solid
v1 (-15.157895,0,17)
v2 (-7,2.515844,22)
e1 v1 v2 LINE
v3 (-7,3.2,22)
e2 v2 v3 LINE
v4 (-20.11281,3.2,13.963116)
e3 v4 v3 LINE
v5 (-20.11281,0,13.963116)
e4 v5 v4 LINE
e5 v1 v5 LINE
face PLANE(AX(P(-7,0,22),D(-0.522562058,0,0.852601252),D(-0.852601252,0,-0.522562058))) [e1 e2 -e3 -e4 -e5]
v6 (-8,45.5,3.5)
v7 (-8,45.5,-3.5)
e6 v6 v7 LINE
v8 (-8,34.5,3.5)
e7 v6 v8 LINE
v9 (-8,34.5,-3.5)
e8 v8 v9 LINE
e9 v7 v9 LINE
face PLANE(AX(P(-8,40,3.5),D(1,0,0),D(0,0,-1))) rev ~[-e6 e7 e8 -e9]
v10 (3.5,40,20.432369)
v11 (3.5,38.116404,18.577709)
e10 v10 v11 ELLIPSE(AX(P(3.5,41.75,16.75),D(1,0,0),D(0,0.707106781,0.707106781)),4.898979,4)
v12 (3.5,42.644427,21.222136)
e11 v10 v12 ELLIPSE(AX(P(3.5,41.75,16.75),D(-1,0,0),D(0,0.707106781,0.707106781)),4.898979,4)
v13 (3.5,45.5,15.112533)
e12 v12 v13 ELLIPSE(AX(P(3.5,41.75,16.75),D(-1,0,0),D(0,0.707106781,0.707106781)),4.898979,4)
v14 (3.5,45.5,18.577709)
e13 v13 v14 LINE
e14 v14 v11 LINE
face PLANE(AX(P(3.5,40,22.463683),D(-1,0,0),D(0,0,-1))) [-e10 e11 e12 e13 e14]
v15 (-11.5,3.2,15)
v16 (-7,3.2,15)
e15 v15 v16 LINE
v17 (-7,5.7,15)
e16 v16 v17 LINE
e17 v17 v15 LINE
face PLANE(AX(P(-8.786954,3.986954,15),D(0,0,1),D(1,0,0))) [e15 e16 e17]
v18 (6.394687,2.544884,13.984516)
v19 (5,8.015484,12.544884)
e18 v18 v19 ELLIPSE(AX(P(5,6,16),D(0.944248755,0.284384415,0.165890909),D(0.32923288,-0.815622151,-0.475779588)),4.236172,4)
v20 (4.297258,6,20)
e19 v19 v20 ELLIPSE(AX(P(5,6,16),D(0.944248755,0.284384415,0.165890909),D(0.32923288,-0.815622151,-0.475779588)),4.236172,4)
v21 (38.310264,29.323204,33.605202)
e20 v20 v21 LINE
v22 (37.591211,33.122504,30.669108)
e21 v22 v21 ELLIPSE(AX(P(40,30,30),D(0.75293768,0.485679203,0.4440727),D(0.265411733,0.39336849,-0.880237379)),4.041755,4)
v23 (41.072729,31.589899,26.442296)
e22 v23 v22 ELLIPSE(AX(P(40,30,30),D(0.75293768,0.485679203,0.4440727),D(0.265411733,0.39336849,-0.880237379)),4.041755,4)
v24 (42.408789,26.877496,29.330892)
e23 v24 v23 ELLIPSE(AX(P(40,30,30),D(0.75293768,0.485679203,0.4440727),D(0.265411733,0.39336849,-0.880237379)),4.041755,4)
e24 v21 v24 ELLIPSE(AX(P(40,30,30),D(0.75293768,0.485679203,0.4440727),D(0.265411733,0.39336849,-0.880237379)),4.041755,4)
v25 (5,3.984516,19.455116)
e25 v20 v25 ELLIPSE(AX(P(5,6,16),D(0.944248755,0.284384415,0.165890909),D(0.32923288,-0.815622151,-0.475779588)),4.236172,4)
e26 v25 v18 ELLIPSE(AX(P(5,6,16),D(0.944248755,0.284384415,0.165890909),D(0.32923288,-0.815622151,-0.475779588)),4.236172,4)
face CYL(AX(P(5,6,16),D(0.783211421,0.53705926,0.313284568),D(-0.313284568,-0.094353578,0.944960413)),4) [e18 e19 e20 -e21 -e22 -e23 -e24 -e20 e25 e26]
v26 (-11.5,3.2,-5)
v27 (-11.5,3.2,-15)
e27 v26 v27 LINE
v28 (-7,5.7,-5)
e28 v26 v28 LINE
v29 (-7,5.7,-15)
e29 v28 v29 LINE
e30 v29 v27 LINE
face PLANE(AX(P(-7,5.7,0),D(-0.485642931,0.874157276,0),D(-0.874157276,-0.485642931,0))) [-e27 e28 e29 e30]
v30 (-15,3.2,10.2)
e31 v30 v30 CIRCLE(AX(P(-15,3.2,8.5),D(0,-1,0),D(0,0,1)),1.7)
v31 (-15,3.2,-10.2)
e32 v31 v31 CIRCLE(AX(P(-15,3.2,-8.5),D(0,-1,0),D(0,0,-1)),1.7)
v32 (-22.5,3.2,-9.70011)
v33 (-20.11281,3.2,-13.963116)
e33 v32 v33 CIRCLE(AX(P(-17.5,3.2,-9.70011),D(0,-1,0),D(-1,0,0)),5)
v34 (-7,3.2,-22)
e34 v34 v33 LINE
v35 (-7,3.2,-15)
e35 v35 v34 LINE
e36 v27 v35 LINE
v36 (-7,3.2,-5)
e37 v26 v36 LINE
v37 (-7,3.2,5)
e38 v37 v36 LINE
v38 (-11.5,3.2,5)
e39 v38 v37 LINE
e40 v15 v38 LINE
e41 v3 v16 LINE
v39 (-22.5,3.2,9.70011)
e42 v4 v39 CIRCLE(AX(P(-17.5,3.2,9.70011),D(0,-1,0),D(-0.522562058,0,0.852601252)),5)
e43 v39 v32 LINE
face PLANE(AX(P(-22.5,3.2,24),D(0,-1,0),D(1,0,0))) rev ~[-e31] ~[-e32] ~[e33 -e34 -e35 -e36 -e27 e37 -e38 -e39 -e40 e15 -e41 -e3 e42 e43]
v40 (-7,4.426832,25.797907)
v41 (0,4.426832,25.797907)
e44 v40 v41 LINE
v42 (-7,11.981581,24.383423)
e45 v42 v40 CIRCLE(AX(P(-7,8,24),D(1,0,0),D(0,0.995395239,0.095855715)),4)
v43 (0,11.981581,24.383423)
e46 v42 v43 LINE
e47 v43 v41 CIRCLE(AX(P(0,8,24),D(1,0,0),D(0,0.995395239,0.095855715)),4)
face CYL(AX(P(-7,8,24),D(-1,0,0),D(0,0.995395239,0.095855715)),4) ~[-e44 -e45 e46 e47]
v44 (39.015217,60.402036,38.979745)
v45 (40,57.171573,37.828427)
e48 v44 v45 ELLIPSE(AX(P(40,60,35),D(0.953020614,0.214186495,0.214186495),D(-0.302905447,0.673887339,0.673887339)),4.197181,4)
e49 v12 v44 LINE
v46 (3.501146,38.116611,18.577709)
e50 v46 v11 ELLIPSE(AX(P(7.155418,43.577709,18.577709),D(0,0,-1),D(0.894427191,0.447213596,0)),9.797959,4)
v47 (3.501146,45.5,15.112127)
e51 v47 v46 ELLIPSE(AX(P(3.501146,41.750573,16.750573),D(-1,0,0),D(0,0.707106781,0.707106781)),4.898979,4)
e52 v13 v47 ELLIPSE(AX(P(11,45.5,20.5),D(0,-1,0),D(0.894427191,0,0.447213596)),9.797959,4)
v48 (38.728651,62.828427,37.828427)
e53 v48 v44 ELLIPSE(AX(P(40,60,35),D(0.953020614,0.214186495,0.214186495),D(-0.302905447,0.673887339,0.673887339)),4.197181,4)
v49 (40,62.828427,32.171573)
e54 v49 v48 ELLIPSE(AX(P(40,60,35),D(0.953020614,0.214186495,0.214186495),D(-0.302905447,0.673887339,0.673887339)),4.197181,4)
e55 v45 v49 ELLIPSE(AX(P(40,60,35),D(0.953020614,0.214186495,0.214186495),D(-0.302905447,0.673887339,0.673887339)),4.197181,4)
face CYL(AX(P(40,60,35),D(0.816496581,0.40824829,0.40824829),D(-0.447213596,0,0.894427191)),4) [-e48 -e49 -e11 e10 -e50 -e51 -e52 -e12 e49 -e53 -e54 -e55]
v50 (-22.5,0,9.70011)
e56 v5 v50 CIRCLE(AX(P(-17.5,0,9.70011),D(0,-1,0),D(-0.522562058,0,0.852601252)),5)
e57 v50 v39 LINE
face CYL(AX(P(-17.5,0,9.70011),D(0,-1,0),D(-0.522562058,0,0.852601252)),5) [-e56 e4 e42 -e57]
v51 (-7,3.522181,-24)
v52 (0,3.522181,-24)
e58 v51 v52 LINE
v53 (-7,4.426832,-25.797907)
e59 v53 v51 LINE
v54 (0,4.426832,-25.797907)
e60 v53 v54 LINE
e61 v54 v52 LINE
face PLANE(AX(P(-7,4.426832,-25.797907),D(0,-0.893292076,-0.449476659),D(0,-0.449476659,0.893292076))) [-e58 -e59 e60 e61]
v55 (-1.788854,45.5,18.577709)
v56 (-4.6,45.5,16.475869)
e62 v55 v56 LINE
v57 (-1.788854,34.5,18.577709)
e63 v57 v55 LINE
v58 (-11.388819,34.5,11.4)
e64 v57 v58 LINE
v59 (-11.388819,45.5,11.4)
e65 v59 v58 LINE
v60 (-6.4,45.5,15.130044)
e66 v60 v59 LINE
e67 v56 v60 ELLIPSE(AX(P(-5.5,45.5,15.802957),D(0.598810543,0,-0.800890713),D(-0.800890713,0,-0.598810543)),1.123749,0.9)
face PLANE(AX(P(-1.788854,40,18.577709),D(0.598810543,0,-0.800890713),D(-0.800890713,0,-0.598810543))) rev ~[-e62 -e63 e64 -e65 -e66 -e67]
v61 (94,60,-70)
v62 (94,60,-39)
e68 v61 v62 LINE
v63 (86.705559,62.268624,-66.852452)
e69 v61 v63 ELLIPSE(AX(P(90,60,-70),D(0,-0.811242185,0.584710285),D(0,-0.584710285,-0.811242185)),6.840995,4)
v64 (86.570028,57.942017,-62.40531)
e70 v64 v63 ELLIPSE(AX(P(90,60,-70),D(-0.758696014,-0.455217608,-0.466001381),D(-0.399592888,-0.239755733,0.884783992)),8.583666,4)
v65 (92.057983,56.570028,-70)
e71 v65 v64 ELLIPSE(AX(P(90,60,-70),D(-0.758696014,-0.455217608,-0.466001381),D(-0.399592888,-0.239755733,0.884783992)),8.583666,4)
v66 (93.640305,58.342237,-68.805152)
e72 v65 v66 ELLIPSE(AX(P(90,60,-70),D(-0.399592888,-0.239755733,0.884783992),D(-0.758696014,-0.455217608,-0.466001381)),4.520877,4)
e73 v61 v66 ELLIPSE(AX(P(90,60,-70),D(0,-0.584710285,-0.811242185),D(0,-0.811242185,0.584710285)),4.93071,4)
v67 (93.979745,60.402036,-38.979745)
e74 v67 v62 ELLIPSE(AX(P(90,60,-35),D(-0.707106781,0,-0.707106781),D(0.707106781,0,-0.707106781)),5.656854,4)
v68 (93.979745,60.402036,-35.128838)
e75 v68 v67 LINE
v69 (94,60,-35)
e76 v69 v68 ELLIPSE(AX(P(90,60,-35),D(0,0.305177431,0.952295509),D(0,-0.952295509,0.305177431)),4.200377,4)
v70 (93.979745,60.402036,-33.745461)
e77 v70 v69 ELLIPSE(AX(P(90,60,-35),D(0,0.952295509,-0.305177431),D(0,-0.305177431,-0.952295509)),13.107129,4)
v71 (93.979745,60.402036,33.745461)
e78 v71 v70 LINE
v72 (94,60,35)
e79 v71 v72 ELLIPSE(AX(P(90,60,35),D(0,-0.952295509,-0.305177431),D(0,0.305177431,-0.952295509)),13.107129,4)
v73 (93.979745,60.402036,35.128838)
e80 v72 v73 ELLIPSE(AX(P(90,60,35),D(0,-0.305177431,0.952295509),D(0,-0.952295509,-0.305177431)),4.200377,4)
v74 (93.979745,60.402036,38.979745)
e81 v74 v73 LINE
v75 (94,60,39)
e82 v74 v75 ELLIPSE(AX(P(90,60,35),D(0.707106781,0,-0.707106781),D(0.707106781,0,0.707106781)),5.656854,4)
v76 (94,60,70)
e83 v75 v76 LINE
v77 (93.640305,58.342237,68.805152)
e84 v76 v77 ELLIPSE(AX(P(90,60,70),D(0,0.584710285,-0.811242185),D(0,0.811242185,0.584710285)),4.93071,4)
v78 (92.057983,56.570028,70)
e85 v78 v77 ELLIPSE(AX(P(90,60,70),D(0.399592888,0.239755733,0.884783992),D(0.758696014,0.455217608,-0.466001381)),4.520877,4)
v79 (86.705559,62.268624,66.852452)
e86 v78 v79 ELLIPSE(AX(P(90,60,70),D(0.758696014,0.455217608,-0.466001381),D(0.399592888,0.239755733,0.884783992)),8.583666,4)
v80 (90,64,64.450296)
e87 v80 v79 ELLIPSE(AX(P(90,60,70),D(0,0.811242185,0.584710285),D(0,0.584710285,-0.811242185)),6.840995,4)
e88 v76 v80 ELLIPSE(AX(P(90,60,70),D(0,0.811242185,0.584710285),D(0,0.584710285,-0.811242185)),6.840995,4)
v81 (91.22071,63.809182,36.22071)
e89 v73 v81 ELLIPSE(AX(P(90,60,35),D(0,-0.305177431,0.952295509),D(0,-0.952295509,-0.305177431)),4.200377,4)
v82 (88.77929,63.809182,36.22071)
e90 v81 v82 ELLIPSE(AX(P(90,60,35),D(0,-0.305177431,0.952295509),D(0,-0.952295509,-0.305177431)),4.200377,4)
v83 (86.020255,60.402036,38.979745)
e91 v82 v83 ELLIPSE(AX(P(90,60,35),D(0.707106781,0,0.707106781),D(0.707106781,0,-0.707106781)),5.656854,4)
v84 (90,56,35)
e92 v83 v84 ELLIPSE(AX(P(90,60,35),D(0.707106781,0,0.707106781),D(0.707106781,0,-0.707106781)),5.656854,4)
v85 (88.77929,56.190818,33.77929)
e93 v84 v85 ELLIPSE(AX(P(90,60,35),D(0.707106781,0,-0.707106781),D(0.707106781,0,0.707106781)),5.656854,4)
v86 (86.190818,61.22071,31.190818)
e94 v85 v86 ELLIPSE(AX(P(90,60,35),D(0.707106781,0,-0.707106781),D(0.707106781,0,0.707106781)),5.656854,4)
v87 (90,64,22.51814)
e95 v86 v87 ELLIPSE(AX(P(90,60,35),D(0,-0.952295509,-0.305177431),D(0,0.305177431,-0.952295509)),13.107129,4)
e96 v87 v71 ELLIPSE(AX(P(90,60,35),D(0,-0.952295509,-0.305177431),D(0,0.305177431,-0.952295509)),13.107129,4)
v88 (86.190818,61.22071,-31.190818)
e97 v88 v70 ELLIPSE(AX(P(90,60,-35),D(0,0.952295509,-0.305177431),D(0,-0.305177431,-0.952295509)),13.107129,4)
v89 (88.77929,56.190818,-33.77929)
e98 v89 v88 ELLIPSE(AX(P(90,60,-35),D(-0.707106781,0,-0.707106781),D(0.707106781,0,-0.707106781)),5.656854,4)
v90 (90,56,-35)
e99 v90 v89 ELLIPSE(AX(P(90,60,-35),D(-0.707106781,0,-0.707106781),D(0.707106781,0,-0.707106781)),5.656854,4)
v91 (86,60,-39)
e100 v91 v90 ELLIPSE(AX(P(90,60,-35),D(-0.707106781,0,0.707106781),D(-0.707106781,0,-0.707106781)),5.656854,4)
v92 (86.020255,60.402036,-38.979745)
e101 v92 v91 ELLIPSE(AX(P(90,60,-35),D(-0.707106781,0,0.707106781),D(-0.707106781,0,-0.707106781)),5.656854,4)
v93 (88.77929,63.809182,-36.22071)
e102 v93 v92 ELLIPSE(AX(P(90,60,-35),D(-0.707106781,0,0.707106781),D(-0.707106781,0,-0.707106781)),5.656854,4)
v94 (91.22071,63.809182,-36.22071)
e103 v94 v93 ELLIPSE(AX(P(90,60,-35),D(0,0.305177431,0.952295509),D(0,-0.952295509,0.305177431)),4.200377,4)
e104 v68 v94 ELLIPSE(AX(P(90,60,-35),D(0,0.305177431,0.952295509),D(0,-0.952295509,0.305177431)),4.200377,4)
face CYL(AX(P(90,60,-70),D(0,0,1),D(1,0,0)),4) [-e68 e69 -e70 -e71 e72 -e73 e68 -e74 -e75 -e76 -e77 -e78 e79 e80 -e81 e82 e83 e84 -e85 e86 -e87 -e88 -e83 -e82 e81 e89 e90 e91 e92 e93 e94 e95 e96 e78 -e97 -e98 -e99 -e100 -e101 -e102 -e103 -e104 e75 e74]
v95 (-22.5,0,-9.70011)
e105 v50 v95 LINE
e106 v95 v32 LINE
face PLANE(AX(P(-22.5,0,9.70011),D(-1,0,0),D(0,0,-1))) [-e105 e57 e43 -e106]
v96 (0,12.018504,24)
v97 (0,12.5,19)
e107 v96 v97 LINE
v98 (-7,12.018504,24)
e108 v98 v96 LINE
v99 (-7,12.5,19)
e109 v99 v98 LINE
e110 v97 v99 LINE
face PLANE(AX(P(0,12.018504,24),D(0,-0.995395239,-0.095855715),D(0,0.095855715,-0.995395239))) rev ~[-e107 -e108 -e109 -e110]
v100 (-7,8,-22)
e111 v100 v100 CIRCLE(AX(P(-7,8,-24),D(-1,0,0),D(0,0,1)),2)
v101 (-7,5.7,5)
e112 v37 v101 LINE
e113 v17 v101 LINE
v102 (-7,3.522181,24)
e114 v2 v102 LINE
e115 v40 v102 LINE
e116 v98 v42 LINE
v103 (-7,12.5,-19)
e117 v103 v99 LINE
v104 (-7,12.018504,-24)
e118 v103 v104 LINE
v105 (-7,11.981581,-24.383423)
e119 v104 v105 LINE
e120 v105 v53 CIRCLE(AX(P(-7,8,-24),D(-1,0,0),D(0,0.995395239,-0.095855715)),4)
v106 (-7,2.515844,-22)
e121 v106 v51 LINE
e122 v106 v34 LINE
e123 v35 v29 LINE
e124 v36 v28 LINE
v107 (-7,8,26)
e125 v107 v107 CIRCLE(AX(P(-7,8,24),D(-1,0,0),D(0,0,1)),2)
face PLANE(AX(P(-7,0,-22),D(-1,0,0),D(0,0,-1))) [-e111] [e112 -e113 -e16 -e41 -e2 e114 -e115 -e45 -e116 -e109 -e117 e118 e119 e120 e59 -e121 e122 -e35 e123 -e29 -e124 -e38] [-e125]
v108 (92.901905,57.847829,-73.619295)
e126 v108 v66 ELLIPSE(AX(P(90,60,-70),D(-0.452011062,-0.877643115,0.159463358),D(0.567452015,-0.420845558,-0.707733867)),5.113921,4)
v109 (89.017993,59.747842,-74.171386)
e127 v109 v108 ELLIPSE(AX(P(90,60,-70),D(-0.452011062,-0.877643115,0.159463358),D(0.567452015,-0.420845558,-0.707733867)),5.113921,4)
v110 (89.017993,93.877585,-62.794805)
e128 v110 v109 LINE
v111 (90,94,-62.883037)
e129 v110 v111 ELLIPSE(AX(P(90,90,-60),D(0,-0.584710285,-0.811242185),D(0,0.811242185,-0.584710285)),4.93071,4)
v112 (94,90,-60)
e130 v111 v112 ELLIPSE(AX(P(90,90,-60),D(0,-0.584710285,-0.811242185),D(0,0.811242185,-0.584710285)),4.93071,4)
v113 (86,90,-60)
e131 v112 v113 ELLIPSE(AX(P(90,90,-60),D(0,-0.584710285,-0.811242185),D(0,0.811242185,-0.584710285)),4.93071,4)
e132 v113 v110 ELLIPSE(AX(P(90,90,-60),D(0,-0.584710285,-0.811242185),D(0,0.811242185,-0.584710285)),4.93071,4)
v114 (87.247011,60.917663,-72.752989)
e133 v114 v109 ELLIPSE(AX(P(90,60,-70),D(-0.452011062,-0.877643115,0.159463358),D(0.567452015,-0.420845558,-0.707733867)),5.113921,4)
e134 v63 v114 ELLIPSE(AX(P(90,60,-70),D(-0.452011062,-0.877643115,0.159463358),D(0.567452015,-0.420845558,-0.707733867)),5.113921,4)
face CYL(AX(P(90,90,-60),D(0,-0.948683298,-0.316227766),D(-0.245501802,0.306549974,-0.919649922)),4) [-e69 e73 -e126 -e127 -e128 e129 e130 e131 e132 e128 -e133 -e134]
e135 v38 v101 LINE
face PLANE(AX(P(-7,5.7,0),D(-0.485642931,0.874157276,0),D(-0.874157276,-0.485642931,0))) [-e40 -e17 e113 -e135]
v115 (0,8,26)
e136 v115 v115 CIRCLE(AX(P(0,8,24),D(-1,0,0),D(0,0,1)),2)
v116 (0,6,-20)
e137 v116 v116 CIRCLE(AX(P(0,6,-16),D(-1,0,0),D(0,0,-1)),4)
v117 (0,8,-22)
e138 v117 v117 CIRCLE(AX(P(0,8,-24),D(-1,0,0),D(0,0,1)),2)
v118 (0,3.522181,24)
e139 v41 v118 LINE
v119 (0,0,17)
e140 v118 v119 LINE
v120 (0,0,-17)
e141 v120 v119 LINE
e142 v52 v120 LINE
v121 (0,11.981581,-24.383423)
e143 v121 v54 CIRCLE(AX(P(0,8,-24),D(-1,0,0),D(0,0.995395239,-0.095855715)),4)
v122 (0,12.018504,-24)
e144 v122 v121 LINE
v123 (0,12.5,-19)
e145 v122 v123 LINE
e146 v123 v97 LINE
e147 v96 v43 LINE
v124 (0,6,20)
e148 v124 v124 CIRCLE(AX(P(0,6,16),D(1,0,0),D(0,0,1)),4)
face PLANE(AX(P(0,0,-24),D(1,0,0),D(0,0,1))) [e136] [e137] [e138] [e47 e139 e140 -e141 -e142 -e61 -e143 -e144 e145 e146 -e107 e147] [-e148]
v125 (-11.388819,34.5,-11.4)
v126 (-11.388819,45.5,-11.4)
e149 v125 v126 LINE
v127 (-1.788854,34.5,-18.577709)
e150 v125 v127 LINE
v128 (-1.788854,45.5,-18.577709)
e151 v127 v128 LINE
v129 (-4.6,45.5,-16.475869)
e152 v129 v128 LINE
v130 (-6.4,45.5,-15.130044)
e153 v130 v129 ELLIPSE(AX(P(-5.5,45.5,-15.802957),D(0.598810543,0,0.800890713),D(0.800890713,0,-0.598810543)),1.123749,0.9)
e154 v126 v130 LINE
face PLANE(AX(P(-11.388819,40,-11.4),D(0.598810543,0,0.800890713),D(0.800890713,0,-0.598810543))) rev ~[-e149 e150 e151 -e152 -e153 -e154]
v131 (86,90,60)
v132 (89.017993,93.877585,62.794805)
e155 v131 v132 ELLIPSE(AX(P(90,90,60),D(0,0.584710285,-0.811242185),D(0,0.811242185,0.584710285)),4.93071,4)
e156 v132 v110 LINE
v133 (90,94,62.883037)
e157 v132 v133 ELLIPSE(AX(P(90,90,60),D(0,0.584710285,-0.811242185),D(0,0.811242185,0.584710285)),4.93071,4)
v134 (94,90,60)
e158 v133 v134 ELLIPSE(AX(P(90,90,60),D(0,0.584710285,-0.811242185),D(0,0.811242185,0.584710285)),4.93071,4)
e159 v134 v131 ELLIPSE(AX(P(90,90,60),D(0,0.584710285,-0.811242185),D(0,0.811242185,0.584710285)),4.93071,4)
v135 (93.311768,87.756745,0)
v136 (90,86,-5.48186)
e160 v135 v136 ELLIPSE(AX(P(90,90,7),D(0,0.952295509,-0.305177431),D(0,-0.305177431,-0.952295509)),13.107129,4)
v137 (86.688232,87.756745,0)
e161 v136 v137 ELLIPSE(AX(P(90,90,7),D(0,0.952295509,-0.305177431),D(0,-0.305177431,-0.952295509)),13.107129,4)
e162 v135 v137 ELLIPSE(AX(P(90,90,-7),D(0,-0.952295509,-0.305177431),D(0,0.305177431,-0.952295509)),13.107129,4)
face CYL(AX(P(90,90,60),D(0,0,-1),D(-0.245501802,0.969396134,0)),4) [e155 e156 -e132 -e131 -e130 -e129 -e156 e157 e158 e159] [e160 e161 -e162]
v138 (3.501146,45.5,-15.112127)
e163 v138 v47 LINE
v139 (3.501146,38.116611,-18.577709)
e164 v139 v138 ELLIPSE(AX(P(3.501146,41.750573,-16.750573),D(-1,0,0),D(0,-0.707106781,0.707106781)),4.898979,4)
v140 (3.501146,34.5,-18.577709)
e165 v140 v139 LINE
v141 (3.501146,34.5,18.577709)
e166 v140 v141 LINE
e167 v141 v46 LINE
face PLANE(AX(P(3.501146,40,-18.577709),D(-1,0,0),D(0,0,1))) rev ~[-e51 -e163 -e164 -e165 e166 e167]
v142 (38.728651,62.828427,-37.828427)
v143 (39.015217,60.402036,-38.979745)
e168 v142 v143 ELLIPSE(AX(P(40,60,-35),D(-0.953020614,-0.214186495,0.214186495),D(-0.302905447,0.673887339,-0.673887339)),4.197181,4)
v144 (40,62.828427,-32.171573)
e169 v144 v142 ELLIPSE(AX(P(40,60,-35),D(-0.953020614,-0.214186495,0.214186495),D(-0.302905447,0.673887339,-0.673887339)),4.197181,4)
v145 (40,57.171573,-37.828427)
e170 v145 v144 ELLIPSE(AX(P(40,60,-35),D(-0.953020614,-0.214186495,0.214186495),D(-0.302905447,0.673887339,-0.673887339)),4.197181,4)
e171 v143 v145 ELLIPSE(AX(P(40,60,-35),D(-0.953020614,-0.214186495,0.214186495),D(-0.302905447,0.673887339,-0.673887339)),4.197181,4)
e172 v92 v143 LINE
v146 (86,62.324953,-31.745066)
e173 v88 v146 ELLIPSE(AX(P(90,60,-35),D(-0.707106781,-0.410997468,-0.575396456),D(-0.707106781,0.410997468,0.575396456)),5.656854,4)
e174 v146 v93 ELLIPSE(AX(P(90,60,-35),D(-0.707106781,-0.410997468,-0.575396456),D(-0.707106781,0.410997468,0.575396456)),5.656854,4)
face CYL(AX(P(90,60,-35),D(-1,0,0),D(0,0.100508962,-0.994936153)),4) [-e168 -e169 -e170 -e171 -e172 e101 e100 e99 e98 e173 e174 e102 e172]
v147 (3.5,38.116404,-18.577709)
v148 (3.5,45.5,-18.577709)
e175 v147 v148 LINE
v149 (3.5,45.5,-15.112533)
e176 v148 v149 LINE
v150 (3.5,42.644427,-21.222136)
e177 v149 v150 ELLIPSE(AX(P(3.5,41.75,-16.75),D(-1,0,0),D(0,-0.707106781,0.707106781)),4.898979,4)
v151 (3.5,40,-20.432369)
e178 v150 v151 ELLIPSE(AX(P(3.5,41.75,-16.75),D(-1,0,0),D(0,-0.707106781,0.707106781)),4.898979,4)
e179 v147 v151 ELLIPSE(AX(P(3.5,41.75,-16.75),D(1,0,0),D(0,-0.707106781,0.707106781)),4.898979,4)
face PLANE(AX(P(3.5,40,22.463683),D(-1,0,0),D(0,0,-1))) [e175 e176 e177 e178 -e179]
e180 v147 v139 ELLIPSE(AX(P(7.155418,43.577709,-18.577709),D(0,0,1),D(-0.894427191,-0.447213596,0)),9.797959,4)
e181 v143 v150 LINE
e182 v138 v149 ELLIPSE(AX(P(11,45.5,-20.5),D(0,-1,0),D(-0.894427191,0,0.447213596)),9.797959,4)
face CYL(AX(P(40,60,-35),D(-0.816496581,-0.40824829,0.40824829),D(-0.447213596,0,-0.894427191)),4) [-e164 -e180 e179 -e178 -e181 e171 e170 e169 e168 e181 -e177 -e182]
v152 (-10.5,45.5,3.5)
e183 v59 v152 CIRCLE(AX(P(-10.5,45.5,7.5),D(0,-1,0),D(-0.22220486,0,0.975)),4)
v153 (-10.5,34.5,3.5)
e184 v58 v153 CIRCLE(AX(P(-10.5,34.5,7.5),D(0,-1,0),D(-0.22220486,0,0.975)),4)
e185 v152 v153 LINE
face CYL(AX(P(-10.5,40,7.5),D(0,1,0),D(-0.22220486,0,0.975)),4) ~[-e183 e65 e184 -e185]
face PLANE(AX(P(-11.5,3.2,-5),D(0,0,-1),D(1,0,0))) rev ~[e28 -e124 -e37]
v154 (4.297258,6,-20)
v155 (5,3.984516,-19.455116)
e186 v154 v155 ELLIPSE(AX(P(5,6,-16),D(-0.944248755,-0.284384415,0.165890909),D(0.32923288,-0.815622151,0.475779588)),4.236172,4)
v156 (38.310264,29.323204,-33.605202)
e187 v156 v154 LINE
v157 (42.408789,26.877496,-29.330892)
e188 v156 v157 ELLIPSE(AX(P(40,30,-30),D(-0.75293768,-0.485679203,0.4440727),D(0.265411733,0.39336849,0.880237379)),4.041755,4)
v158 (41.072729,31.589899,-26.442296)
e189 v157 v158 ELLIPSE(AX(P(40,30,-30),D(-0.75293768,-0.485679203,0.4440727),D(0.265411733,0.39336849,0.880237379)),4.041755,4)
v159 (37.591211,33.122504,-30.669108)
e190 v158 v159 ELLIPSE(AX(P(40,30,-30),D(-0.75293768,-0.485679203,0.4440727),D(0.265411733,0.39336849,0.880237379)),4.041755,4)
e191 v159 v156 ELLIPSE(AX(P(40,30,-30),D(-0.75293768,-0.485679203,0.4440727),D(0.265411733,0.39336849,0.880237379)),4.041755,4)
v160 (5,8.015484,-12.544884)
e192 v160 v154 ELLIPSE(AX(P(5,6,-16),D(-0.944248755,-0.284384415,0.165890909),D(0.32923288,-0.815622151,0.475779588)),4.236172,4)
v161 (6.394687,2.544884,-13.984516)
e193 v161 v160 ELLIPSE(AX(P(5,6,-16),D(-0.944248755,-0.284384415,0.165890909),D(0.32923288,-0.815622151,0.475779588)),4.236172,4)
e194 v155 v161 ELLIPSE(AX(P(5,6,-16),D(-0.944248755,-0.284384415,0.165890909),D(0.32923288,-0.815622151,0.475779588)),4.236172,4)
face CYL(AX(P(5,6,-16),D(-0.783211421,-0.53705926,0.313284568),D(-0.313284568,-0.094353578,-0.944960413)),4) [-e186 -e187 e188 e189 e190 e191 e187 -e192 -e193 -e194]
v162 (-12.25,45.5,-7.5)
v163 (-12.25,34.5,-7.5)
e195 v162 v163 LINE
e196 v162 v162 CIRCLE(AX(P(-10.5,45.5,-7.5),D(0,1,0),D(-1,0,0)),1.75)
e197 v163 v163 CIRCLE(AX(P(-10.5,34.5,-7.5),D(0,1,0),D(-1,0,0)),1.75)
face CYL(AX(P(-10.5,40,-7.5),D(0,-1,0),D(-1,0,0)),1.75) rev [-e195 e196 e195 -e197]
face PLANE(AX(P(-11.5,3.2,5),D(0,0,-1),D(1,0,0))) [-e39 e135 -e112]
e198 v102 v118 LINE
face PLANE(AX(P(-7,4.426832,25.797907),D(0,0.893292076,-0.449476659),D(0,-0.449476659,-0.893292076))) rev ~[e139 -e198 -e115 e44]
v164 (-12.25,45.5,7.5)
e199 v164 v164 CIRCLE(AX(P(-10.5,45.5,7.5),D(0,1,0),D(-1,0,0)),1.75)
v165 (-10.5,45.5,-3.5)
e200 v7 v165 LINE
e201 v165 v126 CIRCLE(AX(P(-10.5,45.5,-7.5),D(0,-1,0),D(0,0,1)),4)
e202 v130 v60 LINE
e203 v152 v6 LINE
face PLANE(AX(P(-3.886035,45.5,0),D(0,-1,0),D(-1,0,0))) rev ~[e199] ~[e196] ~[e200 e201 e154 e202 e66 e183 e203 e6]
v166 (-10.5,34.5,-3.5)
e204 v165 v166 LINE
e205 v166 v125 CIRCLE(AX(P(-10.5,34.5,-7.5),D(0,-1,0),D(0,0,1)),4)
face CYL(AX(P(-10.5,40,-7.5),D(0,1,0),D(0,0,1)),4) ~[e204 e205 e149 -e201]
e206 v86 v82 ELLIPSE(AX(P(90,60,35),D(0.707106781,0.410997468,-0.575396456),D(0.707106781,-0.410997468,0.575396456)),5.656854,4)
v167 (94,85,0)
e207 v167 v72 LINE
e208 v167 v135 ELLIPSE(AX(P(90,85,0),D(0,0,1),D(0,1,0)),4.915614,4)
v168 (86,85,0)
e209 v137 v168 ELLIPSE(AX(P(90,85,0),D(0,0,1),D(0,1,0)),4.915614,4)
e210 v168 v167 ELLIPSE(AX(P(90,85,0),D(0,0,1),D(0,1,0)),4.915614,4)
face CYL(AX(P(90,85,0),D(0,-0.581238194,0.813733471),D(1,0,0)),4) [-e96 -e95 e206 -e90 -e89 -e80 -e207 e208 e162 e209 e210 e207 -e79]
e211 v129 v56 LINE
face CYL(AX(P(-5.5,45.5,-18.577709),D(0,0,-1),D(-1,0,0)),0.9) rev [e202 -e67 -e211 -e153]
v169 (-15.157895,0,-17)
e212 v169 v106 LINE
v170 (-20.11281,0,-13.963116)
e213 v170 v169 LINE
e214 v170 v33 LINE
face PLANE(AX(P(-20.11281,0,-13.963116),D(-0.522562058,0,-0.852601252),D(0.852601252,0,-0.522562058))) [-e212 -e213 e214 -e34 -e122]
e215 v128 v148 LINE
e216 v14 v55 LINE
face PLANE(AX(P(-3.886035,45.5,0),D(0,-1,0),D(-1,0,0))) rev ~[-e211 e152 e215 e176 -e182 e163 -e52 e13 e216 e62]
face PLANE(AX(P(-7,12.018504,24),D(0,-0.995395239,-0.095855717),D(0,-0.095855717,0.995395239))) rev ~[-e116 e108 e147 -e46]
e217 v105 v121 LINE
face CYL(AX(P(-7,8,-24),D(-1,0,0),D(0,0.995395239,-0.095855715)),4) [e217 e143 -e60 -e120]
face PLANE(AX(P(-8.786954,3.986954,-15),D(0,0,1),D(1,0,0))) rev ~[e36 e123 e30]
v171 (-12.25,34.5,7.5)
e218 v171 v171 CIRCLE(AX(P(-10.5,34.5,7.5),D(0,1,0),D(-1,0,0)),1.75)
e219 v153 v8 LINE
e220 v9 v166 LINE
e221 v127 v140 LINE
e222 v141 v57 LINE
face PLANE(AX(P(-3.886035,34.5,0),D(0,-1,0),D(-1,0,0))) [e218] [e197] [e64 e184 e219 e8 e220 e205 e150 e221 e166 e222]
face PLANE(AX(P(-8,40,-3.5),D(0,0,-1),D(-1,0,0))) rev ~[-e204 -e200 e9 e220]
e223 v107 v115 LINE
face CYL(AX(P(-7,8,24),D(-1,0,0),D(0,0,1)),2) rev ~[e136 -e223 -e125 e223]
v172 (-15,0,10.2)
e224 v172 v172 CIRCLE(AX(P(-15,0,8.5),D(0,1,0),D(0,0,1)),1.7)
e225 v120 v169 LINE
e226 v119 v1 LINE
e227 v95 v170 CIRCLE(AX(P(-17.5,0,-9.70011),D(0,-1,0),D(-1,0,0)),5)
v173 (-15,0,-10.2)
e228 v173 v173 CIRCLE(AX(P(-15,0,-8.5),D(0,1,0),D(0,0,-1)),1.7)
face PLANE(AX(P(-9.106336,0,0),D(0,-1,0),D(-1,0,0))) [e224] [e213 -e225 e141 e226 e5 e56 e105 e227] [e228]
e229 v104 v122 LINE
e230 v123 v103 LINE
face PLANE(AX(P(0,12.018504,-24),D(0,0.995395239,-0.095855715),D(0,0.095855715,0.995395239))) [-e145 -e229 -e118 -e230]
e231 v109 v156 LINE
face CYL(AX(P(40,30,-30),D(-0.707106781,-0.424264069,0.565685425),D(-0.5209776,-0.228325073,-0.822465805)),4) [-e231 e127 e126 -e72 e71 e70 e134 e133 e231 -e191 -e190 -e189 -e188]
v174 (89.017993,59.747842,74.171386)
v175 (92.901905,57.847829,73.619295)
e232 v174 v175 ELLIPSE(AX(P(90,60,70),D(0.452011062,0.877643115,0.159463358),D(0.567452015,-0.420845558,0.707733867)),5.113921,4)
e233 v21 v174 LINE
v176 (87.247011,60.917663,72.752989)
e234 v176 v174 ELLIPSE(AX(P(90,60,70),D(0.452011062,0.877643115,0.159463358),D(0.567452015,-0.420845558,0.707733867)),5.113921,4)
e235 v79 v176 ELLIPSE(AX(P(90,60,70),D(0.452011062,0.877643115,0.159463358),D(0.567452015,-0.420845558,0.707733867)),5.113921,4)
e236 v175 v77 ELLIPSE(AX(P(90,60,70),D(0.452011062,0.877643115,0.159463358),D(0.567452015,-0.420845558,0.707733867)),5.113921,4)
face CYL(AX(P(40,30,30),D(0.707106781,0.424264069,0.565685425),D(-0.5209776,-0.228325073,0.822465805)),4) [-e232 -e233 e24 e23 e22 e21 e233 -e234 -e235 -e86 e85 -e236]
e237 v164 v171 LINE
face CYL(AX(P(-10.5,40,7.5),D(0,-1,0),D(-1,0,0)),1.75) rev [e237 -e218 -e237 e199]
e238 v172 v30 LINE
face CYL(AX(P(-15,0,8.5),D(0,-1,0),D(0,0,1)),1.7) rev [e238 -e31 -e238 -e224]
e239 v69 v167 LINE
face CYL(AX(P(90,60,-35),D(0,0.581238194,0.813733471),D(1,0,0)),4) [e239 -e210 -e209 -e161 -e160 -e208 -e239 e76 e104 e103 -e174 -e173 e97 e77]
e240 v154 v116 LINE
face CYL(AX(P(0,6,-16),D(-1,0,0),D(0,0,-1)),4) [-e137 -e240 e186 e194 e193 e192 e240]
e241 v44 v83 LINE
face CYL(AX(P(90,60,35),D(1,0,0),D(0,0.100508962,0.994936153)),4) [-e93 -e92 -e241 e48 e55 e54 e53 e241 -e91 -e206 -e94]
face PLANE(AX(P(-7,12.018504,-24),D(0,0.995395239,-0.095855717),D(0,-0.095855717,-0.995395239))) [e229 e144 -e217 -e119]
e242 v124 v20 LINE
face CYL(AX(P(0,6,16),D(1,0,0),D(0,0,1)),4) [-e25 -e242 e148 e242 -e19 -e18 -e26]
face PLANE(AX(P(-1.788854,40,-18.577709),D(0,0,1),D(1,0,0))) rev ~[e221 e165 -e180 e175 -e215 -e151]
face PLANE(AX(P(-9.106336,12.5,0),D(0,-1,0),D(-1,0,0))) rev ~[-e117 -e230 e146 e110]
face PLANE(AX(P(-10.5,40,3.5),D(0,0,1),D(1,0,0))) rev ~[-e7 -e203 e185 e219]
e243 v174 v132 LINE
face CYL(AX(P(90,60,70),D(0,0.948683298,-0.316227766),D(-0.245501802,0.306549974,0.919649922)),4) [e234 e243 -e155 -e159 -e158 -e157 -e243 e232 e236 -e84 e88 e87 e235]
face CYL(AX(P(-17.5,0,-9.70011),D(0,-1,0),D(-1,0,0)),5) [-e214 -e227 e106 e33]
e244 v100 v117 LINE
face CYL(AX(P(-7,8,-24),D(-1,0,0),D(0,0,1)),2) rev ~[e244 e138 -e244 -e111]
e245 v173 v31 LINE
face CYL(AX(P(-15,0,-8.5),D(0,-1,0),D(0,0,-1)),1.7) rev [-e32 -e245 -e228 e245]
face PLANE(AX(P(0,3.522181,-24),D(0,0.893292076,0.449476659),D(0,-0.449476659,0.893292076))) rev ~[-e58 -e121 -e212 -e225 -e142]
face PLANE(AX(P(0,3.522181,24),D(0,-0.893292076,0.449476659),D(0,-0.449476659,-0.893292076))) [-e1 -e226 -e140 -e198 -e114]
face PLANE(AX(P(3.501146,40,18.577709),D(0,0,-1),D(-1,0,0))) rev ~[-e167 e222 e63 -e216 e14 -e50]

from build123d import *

# Parameters (mm, degrees)
SKETCH1_R               = 1.7
BOSS_EXTRUDE1_DEPTH     = 12.5
SKETCH2_W               = 15.5
SKETCH2_H               = 9.3
CUT_EXTRUDE1_DEPTH      = 55.465585465
BOSS_EXTRUDE2_DEPTH     = 7
CUT_EXTRUDE2_START      = -7
CUT_EXTRUDE2_DEPTH      = 15.157895
CUT_EXTRUDE3_REACH      = 36.358
SKETCH6_R               = 2
BOSS_EXTRUDE3_DEPTH     = 15
CUT_EXTRUDE4_REACH      = 39.104
SKETCH8_W               = 4.5
SKETCH8_H               = 10
SWEEP1_PROFILE_R        = 4
SWEEP4_PROFILE_R        = 4
SWEEP5_PROFILE_R        = 4
SKETCH107_W             = 7.357095587
SKETCH107_H             = 45.138164382
CUT_EXTRUDE5_DEPTH      = 10
CUT_EXTRUDE5_DEPTH_BACK = 10
SKETCH106_R             = 1.75
BOSS_EXTRUDE4_DEPTH     = 5.5
CUT_EXTRUDE6_DEPTH      = 163.309191318


with BuildPart() as part:
    # Sketch1 → Boss-Extrude1 (new body)
    with BuildSketch(Plane(origin=(0, 0, 0), x_dir=(1, 0, 0), z_dir=(0, 1, 0))):
        with BuildLine():
            Line((0, 24), (0, -24))
            Line((0, -24), (-7, -24))
            Line((-7, -24), (-7, -22))
            Line((-7, -22), (-20.11281029, -13.963116274))
            ThreePointArc((-20.11281029, -13.963116274), (-21.862570999, -12.143053785), (-22.5, -9.700110012))
            Line((-22.5, -9.700110012), (-22.5, 9.700110012))
            ThreePointArc((-22.5, 9.700110012), (-21.862570999, 12.143053785), (-20.11281029, 13.963116274))
            Line((-20.11281029, 13.963116274), (-7, 22))
            Line((-7, 22), (-7, 24))
            Line((-7, 24), (0, 24))
        make_face()
        with Locations(Location((-15, -8.5, 0), (0, 0, 270))):
            Circle(SKETCH1_R, mode=Mode.SUBTRACT)
        with Locations(Location((-15, 8.5, 0), (0, 0, 90))):
            Circle(SKETCH1_R, mode=Mode.SUBTRACT)
    extrude(amount=BOSS_EXTRUDE1_DEPTH)

    # Sketch2 → Cut-Extrude1 (cut, through all)
    with BuildSketch(Plane.XY.offset(24)):
        with Locations((-14.75, 7.85)):
            Rectangle(SKETCH2_W, SKETCH2_H)
    extrude(amount=-CUT_EXTRUDE1_DEPTH, mode=Mode.SUBTRACT)

    # Sketch4 → Boss-Extrude2 (add)
    with BuildSketch(Plane.ZY.offset(7)):
        with BuildLine():
            Line((25.797906634, 4.426831695), (24, 3.522181259))
            Line((24, 3.522181259), (24, 12.018504252))
            Line((24, 12.018504252), (24.38342286, 11.981580956))
            ThreePointArc((24.38342286, 11.981580956), (27.931680136, 8.736132671), (25.797906634, 4.426831695))
        make_face()
        with BuildLine():
            Line((-24, 3.522181259), (-24, 12.018504252))
            Line((-24, 12.018504252), (-24.38342286, 11.981580956))
            ThreePointArc((-24.38342286, 11.981580956), (-27.931680136, 8.736132671), (-25.797906634, 4.426831695))
            Line((-25.797906634, 4.426831695), (-24, 3.522181259))
        make_face()
    extrude(amount=-BOSS_EXTRUDE2_DEPTH)

    # Sketch5 → Cut-Extrude2 (cut)
    with BuildSketch(Plane.ZY.offset(7).offset(CUT_EXTRUDE2_START)):
        Polygon((24, 3.522181259), (17, 0), (24, 0), align=None)
        Polygon((24, 12.018504252), (19, 12.5), (24, 12.5), align=None)
        Polygon((-24, 12.5), (-24, 12.018504252), (-19, 12.5), align=None)
        Polygon((-24, 0), (-24, 3.522181259), (-17, 0), align=None)
    extrude(amount=CUT_EXTRUDE2_DEPTH, mode=Mode.SUBTRACT)

    # Sketch6 → Cut-Extrude3 (cut, up to next)
    with BuildSketch(Plane.ZY.offset(7), mode=Mode.PRIVATE) as cut_extrude3_sk1:
        with Locations((-24, 8)):
            Circle(SKETCH6_R)
    cut_extrude3_tool1 = extrude(cut_extrude3_sk1.sketch, amount=-CUT_EXTRUDE3_REACH, mode=Mode.PRIVATE) & part.part
    # Sketch6 → Cut-Extrude3 (cut, up to next)
    with BuildSketch(Plane.ZY.offset(7), mode=Mode.PRIVATE) as cut_extrude3_sk2:
        with Locations((24, 8)):
            Circle(SKETCH6_R)
    cut_extrude3_tool2 = extrude(cut_extrude3_sk2.sketch, amount=-CUT_EXTRUDE3_REACH, mode=Mode.PRIVATE) & part.part
    add(cut_extrude3_tool1.solids().sort_by_distance((-7, 8, -24))[0], mode=Mode.SUBTRACT)
    add(cut_extrude3_tool2.solids().sort_by_distance((-7, 8, 24))[0], mode=Mode.SUBTRACT)

    # Sketch7 → Boss-Extrude3 (add, symmetric)
    with BuildSketch(Plane.XY):
        Polygon((-11.5, 3.2), (-7, 3.2), (-7, 5.7), align=None)
    extrude(amount=BOSS_EXTRUDE3_DEPTH, both=True)

    # Cut-Extrude4: up to this face of the body (flat: up to its plane)
    cut_extrude4_end = Plane(part.part.faces().sort_by_distance((-9.25, 4.45, 0))[0])
    # Sketch8 → Cut-Extrude4 (cut, up to the picked face)
    with BuildSketch(Plane(origin=(0, 3.2, 0), x_dir=(1, 0, 0), z_dir=(0, 1, 0)), mode=Mode.PRIVATE) as cut_extrude4_sk1:
        with Locations((-9.25, 0)):
            Rectangle(SKETCH8_W, SKETCH8_H)
    cut_extrude4_tool1 = split(extrude(cut_extrude4_sk1.sketch, amount=CUT_EXTRUDE4_REACH, mode=Mode.PRIVATE), bisect_by=cut_extrude4_end, keep=Keep.BOTH, mode=Mode.PRIVATE)
    add(cut_extrude4_tool1.solids().sort_by(Axis((-9.25, 3.2, 0), (0, 1, 0)))[0], mode=Mode.SUBTRACT)

    # Sweep1: sweep along a curve in space
    with BuildLine() as sweep1_path:
        Line((0, 6, 16), (5, 6, 16))
        Line((5, 6, 16), (40, 30, 30))
        Line((40, 30, 30), (90, 60, 70))
        Line((90, 60, 70), (90, 90, 60))
        Line((90, 90, 60), (90, 90, -60))
        Line((90, 90, -60), (90, 60, -70))
        Line((40, 30, -30), (90, 60, -70))
        Line((5, 6, -16), (40, 30, -30))
        Line((0, 6, -16), (5, 6, -16))
    # Sweep1 profile (on start of the path) → Sweep1 (sweep)
    with BuildSketch(Plane(origin=(0, 6, 16), x_dir=(0, 0, 1), z_dir=(1, 0, 0))):
        Circle(SWEEP1_PROFILE_R)
    sweep(path=sweep1_path.line, transition=Transition.RIGHT)



with BuildPart() as body_2:
    # Sweep4: sweep along a curve in space
    with BuildLine() as sweep4_path:
        Line((40, 60, -35), (0, 40, -15))
        Line((90, 60, -35), (40, 60, -35))
        Line((90, 60, -35), (90, 60, 35))
        Line((90, 60, 35), (40, 60, 35))
        Line((40, 60, 35), (0, 40, 15))
    # Sweep4 profile (on start of the path) → Sweep4 (sweep)
    with BuildSketch(Plane(origin=(0, 40, 15), x_dir=(-0.4472135954999578, 0, 0.894427190999916), z_dir=(0.816496580927726, 0.40824829046386285, 0.40824829046386285))):
        Circle(SWEEP4_PROFILE_R)
    sweep(path=sweep4_path.line, transition=Transition.RIGHT)


with BuildPart() as part_1:
    add(part.part)

    add(body_2.part)  # Sweep5 merges body 2
    # Sweep5: sweep along a curve in space
    with BuildLine() as sweep5_path:
        Line((90, 60, -70), (90, 60, -35))
        Line((90, 60, -35), (90, 85, 0))
        Line((90, 85, 0), (90, 60, 35))
        Line((90, 60, 35), (90, 60, 70))
    # Sweep5 profile (on start of the path) → Sweep5 (sweep)
    with BuildSketch(Plane(origin=(90, 60, -70), x_dir=(1, 0, 0), z_dir=(0, 0, 1))):
        Circle(SWEEP5_PROFILE_R)
    sweep(path=sweep5_path.line, transition=Transition.RIGHT)

    # Sketch107 → Cut-Extrude5 (cut, two sides)
    with BuildSketch(Plane(origin=(0, 40, 0), x_dir=(1, 0, 0), z_dir=(0, 1, 0))) as cut_extrude5_sk:
        with Locations((-0.178547794, 0.105399285)):
            Rectangle(SKETCH107_W, SKETCH107_H)
    extrude(amount=CUT_EXTRUDE5_DEPTH, mode=Mode.SUBTRACT)
    extrude(cut_extrude5_sk.sketch, amount=-CUT_EXTRUDE5_DEPTH_BACK, mode=Mode.SUBTRACT)

    # Sketch106 → Boss-Extrude4 (add, symmetric)
    with BuildSketch(Plane(origin=(0, 40, 0), x_dir=(1, 0, 0), z_dir=(0, 1, 0))):
        with BuildLine():
            Line((-1.788854382, -18.577708764), (-11.388819442, -11.4))
            ThreePointArc((-11.388819442, -11.4), (-14.474921383, -7.052786405), (-10.5, -3.5))
            Line((-10.5, -3.5), (-8, -3.5))
            Line((-8, -3.5), (-8, 3.5))
            Line((-8, 3.5), (-10.5, 3.5))
            ThreePointArc((-10.5, 3.5), (-14.474921383, 7.052786405), (-11.388819442, 11.4))
            Line((-11.388819442, 11.4), (-1.788854382, 18.577708764))
            Line((-1.788854382, 18.577708764), (3.501145618, 18.577708764))
            Line((3.501145618, 18.577708764), (3.501145618, -18.577708764))
            Line((3.501145618, -18.577708764), (-1.788854382, -18.577708764))
        make_face()
        with Locations(Location((-10.5, 7.5, 0), (0, 0, 180))):
            Circle(SKETCH106_R, mode=Mode.SUBTRACT)
        with Locations(Location((-10.5, -7.5, 0), (0, 0, 180))):
            Circle(SKETCH106_R, mode=Mode.SUBTRACT)
    extrude(amount=BOSS_EXTRUDE4_DEPTH, both=True)

    # Sketch108 → Cut-Extrude6 (cut, through all)
    with BuildSketch(Plane(origin=(0, 0, -18.577708764), x_dir=(-1, 0, 0), z_dir=(0, 0, -1))):
        with BuildLine():
            Line((4.6, 45.5), (6.4, 45.5))
            ThreePointArc((6.4, 45.5), (5.5, 44.6), (4.6, 45.5))
        make_face()
    extrude(amount=-CUT_EXTRUDE6_DEPTH, mode=Mode.SUBTRACT)


solid = part_1.part
